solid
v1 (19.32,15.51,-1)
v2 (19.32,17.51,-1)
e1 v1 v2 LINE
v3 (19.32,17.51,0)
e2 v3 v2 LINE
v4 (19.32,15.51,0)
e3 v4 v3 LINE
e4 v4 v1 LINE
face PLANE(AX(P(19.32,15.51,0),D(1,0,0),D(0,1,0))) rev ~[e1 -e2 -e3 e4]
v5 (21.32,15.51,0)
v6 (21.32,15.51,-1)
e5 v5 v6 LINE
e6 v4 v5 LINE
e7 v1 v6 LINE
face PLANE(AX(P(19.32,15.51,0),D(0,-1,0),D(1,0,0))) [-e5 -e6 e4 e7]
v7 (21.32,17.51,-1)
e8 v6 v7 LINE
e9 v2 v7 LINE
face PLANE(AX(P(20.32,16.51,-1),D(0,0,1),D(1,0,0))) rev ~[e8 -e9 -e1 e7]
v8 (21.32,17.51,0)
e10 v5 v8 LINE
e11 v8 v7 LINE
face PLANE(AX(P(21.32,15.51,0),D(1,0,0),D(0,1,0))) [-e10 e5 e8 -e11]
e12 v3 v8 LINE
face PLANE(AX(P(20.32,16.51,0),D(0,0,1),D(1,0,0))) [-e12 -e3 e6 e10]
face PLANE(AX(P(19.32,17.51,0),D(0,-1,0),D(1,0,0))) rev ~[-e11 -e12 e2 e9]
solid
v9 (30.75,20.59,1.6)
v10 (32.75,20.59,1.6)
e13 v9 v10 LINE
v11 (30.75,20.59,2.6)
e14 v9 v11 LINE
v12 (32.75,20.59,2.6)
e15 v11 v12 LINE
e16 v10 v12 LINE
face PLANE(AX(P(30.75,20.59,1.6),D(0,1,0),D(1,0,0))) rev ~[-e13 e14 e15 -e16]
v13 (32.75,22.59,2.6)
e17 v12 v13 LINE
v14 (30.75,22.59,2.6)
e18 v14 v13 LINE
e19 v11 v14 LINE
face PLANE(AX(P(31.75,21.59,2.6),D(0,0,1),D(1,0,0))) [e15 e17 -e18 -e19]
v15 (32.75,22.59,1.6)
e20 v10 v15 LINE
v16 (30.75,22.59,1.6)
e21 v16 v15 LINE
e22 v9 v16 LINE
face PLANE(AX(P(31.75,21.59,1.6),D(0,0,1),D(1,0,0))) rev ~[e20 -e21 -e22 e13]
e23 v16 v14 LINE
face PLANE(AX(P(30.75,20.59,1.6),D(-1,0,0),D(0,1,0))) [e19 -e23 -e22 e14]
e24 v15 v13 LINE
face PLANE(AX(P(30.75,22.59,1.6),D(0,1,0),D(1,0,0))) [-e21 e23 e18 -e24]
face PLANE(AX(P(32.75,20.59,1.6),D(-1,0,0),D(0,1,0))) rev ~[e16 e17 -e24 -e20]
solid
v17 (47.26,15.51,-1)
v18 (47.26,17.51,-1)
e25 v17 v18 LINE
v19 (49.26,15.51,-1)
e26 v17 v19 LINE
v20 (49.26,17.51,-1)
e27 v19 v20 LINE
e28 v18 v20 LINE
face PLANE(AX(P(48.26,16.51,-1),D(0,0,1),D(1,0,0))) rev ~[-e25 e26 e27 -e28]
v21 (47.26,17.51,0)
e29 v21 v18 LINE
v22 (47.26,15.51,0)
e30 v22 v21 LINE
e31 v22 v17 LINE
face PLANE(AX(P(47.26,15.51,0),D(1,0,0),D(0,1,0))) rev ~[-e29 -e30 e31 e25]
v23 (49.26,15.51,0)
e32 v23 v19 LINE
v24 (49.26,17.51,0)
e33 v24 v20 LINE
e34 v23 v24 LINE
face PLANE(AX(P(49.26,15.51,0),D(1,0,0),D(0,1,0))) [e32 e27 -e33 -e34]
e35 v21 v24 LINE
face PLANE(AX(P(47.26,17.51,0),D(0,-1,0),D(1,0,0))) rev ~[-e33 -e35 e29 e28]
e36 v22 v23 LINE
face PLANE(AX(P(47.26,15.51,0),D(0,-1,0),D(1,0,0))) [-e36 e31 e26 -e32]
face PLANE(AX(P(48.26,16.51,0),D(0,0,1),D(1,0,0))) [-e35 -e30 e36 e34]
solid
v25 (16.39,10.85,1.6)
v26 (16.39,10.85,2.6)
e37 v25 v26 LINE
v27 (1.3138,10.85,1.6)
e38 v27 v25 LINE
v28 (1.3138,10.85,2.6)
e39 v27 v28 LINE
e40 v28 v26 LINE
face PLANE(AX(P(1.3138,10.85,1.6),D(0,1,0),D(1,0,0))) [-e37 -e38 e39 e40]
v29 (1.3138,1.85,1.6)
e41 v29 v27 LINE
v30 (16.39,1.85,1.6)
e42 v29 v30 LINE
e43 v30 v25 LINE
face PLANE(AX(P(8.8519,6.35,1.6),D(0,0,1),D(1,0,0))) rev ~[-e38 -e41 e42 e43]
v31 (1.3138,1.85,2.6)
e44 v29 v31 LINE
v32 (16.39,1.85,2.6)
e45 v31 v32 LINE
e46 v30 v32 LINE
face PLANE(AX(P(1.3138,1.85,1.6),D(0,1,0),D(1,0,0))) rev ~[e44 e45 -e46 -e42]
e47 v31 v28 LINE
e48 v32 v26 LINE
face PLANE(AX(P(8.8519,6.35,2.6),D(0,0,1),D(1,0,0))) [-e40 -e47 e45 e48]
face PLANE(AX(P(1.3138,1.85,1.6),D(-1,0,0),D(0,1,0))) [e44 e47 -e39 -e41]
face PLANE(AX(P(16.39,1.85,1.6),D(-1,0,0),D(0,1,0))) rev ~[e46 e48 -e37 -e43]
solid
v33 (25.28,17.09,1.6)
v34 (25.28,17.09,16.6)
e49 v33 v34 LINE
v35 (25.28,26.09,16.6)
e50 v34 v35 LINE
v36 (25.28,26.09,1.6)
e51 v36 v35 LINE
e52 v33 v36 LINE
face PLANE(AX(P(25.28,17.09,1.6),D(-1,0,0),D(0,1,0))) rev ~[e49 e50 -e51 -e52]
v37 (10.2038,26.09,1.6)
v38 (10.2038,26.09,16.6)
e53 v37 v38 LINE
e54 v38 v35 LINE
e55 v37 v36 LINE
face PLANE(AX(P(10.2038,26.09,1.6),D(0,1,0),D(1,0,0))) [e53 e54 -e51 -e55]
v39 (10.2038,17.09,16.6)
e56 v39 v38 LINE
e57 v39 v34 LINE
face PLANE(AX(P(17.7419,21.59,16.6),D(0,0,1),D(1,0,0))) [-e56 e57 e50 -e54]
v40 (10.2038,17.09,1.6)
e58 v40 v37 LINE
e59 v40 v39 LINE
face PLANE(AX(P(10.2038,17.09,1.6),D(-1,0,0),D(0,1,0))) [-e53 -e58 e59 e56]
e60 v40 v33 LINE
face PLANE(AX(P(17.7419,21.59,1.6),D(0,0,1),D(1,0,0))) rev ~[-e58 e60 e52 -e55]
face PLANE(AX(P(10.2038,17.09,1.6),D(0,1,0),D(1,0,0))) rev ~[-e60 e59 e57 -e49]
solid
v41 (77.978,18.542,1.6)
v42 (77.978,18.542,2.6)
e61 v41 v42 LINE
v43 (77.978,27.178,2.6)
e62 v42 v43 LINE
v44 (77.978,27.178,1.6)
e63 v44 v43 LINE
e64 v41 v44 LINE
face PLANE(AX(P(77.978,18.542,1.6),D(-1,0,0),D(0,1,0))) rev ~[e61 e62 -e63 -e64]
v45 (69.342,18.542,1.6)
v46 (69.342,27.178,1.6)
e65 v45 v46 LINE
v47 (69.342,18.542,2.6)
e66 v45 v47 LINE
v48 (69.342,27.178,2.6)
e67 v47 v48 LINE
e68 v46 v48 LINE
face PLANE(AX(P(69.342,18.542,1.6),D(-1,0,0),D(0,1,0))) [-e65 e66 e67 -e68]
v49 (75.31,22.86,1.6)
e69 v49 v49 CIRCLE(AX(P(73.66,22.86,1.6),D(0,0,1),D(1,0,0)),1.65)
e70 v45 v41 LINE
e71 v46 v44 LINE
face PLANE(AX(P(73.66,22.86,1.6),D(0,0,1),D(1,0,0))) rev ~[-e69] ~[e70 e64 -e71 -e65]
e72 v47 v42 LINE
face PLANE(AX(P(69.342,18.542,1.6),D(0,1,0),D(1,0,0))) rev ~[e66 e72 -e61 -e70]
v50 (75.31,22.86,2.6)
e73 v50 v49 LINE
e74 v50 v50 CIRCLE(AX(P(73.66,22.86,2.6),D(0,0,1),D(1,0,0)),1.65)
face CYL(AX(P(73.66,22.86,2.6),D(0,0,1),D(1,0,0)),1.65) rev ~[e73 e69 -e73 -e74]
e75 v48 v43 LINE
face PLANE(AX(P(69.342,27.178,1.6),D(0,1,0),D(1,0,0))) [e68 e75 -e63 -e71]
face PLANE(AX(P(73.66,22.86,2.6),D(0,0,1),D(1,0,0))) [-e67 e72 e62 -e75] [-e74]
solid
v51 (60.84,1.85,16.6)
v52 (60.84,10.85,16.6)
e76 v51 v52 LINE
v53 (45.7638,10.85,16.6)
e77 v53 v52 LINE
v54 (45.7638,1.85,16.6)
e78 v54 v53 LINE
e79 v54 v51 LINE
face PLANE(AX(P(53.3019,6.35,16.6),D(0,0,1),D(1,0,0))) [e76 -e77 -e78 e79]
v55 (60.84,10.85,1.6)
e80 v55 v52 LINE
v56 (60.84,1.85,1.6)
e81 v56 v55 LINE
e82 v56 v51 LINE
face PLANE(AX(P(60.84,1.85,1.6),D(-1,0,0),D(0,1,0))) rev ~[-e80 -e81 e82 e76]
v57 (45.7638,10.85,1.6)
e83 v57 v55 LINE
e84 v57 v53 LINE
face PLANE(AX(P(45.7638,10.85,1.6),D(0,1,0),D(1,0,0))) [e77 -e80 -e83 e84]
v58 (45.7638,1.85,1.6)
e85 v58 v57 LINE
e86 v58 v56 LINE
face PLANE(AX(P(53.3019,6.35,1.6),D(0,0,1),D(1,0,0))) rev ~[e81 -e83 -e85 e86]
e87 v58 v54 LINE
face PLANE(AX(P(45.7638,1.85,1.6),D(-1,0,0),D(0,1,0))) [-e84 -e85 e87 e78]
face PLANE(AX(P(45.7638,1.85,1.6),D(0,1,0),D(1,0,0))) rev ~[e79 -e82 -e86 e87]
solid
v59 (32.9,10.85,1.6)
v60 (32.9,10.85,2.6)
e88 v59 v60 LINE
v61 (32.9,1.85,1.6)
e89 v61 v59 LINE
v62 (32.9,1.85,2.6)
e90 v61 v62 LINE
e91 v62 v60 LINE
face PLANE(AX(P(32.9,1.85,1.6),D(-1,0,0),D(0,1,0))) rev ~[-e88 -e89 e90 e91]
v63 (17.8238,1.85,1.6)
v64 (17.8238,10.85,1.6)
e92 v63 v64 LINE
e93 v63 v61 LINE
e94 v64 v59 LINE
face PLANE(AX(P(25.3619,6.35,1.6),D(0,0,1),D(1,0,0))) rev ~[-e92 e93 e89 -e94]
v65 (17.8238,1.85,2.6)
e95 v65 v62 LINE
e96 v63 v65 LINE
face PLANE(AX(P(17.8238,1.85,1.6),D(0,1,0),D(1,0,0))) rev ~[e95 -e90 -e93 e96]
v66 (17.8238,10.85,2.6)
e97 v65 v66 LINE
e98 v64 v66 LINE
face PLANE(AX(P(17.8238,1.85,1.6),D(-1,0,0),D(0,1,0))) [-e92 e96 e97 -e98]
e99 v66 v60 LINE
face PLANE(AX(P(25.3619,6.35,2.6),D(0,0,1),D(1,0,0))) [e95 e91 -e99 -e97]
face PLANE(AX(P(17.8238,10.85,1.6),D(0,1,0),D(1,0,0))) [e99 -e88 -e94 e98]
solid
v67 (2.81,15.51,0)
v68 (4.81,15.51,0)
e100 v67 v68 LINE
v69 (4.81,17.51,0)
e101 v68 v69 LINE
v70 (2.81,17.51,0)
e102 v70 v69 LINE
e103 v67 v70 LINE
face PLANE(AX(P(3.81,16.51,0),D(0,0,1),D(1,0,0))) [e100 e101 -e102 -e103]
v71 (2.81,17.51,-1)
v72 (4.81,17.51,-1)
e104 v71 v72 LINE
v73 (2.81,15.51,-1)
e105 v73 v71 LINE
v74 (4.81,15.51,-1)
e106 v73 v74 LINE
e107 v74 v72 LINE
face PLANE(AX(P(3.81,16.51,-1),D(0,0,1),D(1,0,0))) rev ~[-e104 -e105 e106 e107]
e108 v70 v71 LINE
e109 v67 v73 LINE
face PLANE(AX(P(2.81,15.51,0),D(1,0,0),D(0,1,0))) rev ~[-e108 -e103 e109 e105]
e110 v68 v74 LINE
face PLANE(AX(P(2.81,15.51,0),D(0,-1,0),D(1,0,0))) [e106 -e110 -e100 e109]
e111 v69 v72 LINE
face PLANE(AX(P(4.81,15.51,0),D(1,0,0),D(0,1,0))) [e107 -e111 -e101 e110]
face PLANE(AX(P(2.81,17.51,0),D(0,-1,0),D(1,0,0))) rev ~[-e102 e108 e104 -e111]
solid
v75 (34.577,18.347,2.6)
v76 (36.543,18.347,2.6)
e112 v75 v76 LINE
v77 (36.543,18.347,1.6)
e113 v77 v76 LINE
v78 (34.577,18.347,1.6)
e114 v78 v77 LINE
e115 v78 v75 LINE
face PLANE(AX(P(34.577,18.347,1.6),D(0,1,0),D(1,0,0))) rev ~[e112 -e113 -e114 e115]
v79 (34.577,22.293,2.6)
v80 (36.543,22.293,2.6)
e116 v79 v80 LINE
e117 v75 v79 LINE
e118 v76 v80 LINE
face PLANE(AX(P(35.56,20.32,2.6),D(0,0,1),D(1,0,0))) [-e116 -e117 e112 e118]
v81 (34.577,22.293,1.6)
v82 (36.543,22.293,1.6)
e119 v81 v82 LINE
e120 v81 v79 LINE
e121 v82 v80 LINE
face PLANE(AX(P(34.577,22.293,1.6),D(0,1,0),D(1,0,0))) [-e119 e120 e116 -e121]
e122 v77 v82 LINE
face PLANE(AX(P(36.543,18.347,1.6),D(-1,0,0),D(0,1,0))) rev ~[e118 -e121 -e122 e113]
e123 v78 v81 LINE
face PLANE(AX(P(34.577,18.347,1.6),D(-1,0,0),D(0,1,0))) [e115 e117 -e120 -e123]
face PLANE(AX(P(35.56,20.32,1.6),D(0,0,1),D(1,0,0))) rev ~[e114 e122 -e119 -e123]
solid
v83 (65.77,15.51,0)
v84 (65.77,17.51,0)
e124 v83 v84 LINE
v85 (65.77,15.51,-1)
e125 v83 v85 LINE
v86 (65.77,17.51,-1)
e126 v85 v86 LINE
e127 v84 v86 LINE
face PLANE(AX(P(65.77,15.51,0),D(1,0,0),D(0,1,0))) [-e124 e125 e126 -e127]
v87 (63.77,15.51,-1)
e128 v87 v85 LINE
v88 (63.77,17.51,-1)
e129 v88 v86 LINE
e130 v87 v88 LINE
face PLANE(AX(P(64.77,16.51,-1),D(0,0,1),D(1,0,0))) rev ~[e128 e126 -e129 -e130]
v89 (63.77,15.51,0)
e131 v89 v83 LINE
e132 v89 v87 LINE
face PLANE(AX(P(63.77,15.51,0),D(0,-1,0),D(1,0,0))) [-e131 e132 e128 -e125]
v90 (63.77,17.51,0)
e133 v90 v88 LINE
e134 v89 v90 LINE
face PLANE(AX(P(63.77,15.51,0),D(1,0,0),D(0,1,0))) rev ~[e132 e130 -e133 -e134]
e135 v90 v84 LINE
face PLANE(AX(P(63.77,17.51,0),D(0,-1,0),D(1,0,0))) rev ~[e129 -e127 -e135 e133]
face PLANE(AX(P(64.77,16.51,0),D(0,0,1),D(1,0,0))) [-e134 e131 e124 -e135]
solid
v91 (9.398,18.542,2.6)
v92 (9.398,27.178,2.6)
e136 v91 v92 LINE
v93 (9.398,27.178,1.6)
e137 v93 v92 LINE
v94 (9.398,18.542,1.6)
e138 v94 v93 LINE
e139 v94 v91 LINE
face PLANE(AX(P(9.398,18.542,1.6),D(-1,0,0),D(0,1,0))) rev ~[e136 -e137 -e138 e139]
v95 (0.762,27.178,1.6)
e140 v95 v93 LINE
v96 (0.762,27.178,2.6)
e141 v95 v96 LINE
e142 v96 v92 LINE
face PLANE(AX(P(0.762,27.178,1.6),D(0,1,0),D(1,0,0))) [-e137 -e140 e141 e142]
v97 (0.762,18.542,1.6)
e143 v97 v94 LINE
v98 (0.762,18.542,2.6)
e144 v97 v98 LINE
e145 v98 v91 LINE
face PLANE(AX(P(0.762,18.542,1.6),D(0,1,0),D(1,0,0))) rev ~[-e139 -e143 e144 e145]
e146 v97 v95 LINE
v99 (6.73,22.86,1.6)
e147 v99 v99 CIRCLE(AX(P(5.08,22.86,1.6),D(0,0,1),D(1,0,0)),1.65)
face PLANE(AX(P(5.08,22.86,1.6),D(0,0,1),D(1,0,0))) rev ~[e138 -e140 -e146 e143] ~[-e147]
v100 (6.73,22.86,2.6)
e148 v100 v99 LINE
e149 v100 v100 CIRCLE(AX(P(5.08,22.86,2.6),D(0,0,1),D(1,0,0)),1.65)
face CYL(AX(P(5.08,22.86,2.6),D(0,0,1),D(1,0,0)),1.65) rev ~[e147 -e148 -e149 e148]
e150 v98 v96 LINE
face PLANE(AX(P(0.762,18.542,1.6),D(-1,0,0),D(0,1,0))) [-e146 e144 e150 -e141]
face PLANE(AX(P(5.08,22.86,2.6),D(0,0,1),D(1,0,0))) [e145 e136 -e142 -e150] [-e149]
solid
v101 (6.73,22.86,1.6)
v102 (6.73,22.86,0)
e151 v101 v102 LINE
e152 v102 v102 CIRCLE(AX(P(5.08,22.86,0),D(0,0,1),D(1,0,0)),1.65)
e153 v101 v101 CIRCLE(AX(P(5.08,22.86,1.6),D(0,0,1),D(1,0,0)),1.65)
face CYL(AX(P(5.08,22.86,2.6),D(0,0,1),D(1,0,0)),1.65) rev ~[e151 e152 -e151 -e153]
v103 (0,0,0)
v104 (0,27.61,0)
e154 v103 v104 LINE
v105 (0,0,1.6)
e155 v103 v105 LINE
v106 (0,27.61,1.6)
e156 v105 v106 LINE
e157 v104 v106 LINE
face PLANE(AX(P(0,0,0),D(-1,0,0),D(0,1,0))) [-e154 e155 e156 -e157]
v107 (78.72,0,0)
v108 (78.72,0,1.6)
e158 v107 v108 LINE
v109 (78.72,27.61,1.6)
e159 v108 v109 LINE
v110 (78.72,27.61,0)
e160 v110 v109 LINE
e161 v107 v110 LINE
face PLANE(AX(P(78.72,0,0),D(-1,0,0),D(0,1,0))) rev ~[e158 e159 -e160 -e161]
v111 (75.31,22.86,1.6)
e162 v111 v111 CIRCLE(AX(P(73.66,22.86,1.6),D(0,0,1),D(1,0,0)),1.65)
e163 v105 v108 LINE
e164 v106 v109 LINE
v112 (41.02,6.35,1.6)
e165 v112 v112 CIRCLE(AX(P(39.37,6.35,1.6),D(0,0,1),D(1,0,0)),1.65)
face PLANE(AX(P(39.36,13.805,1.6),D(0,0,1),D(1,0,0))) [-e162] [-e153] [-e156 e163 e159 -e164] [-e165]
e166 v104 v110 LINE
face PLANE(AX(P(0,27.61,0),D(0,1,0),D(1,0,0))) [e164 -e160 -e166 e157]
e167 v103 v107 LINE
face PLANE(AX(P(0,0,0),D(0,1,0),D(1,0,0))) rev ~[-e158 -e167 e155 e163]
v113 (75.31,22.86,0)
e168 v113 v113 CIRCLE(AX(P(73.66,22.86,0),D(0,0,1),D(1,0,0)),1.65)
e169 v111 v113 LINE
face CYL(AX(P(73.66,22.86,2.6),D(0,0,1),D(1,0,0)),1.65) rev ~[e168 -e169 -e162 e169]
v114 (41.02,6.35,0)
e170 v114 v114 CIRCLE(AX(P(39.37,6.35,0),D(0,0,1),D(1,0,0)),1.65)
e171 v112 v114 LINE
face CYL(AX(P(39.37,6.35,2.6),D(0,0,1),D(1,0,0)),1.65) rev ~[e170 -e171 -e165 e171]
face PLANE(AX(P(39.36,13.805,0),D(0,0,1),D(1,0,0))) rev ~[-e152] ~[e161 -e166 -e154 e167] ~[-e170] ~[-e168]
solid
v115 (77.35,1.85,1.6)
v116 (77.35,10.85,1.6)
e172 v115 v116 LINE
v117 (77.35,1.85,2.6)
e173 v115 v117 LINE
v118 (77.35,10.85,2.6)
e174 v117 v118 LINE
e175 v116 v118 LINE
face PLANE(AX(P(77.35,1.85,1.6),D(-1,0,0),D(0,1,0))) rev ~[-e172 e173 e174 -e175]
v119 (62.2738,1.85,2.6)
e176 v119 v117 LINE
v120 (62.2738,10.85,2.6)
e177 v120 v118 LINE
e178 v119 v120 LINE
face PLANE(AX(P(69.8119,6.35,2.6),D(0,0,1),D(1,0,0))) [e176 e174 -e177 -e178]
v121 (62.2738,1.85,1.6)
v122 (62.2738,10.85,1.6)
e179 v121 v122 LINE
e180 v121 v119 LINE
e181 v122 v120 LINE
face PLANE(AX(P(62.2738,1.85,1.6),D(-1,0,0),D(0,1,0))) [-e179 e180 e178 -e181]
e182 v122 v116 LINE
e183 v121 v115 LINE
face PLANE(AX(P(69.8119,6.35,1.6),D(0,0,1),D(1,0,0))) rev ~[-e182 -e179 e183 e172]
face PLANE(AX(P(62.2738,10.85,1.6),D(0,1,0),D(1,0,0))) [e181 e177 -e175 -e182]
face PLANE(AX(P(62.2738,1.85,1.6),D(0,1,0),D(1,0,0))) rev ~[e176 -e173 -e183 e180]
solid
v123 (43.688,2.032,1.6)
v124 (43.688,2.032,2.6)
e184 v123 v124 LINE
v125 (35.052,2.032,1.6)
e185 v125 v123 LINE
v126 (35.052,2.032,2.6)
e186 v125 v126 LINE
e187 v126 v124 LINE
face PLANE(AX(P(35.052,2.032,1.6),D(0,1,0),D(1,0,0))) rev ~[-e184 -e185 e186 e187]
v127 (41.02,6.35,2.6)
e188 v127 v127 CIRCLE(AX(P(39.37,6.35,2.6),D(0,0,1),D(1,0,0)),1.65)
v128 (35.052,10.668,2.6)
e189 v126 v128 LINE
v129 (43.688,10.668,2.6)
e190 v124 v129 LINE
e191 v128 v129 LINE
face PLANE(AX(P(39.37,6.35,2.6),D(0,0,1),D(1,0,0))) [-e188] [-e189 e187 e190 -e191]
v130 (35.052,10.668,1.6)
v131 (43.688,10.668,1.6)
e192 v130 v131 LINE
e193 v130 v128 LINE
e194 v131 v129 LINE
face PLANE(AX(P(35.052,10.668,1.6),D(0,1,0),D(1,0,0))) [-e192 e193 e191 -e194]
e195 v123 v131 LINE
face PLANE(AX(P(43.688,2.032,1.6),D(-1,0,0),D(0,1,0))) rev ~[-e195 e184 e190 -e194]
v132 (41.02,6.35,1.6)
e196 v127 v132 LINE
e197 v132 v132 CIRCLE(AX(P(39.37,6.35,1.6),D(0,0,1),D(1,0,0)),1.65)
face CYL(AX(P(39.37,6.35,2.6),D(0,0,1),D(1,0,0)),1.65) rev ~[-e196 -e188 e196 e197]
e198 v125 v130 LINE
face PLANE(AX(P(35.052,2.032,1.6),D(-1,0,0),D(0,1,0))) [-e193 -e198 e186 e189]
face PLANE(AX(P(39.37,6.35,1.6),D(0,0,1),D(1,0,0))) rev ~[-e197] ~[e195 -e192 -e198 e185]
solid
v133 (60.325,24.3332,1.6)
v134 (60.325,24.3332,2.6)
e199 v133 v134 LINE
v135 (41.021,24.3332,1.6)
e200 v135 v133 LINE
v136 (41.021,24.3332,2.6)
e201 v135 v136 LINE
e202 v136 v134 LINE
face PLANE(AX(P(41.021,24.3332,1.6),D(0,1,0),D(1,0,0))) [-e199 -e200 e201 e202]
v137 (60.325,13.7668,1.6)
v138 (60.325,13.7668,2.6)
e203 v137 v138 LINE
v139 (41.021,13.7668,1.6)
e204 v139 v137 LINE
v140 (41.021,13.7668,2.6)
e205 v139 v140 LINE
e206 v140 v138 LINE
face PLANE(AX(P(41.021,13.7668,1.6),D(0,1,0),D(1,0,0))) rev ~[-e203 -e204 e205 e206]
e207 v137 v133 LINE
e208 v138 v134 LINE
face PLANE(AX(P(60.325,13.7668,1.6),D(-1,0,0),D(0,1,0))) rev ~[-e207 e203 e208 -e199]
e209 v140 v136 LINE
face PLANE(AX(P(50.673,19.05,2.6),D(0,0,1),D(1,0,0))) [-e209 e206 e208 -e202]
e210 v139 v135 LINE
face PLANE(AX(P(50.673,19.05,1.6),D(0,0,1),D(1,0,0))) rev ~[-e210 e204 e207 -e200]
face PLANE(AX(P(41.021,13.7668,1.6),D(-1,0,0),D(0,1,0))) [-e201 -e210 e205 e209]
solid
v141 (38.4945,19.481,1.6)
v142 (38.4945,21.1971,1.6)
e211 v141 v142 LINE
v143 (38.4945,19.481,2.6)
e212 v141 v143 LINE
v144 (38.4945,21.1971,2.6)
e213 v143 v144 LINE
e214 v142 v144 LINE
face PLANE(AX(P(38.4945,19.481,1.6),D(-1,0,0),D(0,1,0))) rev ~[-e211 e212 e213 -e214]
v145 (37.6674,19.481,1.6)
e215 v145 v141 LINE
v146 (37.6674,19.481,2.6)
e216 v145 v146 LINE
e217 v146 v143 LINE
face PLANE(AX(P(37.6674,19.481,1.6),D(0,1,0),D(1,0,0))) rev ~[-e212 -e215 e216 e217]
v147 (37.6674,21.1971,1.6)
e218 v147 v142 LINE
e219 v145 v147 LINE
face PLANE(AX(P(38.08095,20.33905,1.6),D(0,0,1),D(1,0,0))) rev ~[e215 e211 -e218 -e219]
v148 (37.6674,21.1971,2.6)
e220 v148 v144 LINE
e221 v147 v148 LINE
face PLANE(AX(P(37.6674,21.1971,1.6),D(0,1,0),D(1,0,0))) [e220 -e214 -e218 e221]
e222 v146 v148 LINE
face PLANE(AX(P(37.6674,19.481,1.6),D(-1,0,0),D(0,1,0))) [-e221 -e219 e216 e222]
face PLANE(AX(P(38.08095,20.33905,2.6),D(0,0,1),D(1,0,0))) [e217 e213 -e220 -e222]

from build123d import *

# Parameters (mm, degrees)
SKETCH1_W                           = 78.72
SKETCH1_H                           = 27.61
BOARD_DEPTH                         = 1.6
SKETCH2_W                           = 0.8271
SKETCH2_H                           = 1.7161
EXTRUDE_C0402_1_DEPTH               = 1
SKETCH3_W                           = 8.636
SKETCH3_H                           = 8.636
EXTRUDE_3_3_1_DEPTH                 = 1
SKETCH4_W                           = 8.636
SKETCH4_H                           = 8.636
EXTRUDE_3_3_2_DEPTH                 = 1
SKETCH5_W                           = 8.636
SKETCH5_H                           = 8.636
EXTRUDE_3_3_3_DEPTH                 = 1
SKETCH6_W                           = 19.304
SKETCH6_H                           = 10.5664
TO220H_1_DEPTH                      = 1
SKETCH7_W                           = 1.966
SKETCH7_H                           = 3.946
EXTRUDE_R0805_1_DEPTH               = 1
SKETCH8_W                           = 15.0762
SKETCH8_H                           = 9
EXTRUDE_1935789_1_DEPTH             = 15
SKETCH9_W                           = 15.0762
SKETCH9_H                           = 9
EXTRUDE_1935789_2_DEPTH             = 1
SKETCH10_W                          = 15.0762
SKETCH10_H                          = 9
EXTRUDE_1935789_3_DEPTH             = 15
SKETCH11_W                          = 15.0762
SKETCH11_H                          = 9
EXTRUDE_1935789_4_DEPTH             = 1
SKETCH12_W                          = 2
SKETCH12_H                          = 2
F_2920L400_15MR_1_DEPTH             = 1
SKETCH13_W                          = 2
SKETCH13_H                          = 2
F_2920L400_15MR_2_DEPTH             = 1
SKETCH14_W                          = 2
SKETCH14_H                          = 2
F_2920L400_15MR_3_DEPTH             = 1
SKETCH15_W                          = 2
SKETCH15_H                          = 2
F_2920L400_15MR_4_DEPTH             = 1
SKETCH16_W                          = 15.0762
SKETCH16_H                          = 9
EXTRUDE_1935789_5_DEPTH             = 1
SKETCH17_W                          = 2
SKETCH17_H                          = 2
PDM_2019_REVB_MIC4416YM4_TR_1_DEPTH = 1
SKETCH18_R                          = 1.65
CUT_EXTRUDE1_DEPTH                  = 10.16
SKETCH19_R                          = 1.65
CUT_EXTRUDE2_DEPTH                  = 10.16
SKETCH20_R                          = 1.65
CUT_EXTRUDE3_DEPTH                  = 10.16


with BuildPart() as part:
    # Sketch1 → BOARD (new body)
    with BuildSketch(Plane.XY):
        with Locations((39.36, 13.805)):
            Rectangle(SKETCH1_W, SKETCH1_H)
    extrude(amount=BOARD_DEPTH)


with BuildPart() as body_2:
    # Sketch2 → Extrude C0402-1 (new body)
    with BuildSketch(Plane.XY.offset(1.6)):
        with Locations((38.08095, 20.33905)):
            Rectangle(SKETCH2_W, SKETCH2_H)
    extrude(amount=EXTRUDE_C0402_1_DEPTH)


with BuildPart() as body_3:
    # Sketch3 → Extrude 3_3-1 (new body)
    with BuildSketch(Plane.XY.offset(1.6)):
        with Locations((5.08, 22.86)):
            Rectangle(SKETCH3_W, SKETCH3_H)
    extrude(amount=EXTRUDE_3_3_1_DEPTH)


with BuildPart() as body_4:
    # Sketch4 → Extrude 3_3-2 (new body)
    with BuildSketch(Plane.XY.offset(1.6)):
        with Locations((73.66, 22.86)):
            Rectangle(SKETCH4_W, SKETCH4_H)
    extrude(amount=EXTRUDE_3_3_2_DEPTH)


with BuildPart() as body_5:
    # Sketch5 → Extrude 3_3-3 (new body)
    with BuildSketch(Plane.XY.offset(1.6)):
        with Locations((39.37, 6.35)):
            Rectangle(SKETCH5_W, SKETCH5_H)
    extrude(amount=EXTRUDE_3_3_3_DEPTH)


with BuildPart() as body_6:
    # Sketch6 → TO220H-1 (new body)
    with BuildSketch(Plane.XY.offset(1.6)):
        with Locations((50.673, 19.05)):
            Rectangle(SKETCH6_W, SKETCH6_H)
    extrude(amount=TO220H_1_DEPTH)


with BuildPart() as body_7:
    # Sketch7 → Extrude R0805-1 (new body)
    with BuildSketch(Plane.XY.offset(1.6)):
        with Locations((35.56, 20.32)):
            Rectangle(SKETCH7_W, SKETCH7_H)
    extrude(amount=EXTRUDE_R0805_1_DEPTH)


with BuildPart() as body_8:
    # Sketch8 → Extrude 1935789-1 (new body)
    with BuildSketch(Plane.XY.offset(1.6)):
        with Locations((17.7419, 21.59)):
            Rectangle(SKETCH8_W, SKETCH8_H)
    extrude(amount=EXTRUDE_1935789_1_DEPTH)


with BuildPart() as body_9:
    # Sketch9 → Extrude 1935789-2 (new body)
    with BuildSketch(Plane.XY.offset(1.6)):
        with Locations((25.3619, 6.35)):
            Rectangle(SKETCH9_W, SKETCH9_H)
    extrude(amount=EXTRUDE_1935789_2_DEPTH)


with BuildPart() as body_10:
    # Sketch10 → Extrude 1935789-3 (new body)
    with BuildSketch(Plane.XY.offset(1.6)):
        with Locations((53.3019, 6.35)):
            Rectangle(SKETCH10_W, SKETCH10_H)
    extrude(amount=EXTRUDE_1935789_3_DEPTH)


with BuildPart() as body_11:
    # Sketch11 → Extrude 1935789-4 (new body)
    with BuildSketch(Plane.XY.offset(1.6)):
        with Locations((8.8519, 6.35)):
            Rectangle(SKETCH11_W, SKETCH11_H)
    extrude(amount=EXTRUDE_1935789_4_DEPTH)


with BuildPart() as body_12:
    # Sketch12 → 2920L400_15MR-1 (new body)
    with BuildSketch(Plane.XY):
        with Locations((20.32, 16.51)):
            Rectangle(SKETCH12_W, SKETCH12_H)
    extrude(amount=-F_2920L400_15MR_1_DEPTH)


with BuildPart() as body_13:
    # Sketch13 → 2920L400_15MR-2 (new body)
    with BuildSketch(Plane.XY):
        with Locations((48.26, 16.51)):
            Rectangle(SKETCH13_W, SKETCH13_H)
    extrude(amount=-F_2920L400_15MR_2_DEPTH)


with BuildPart() as body_14:
    # Sketch14 → 2920L400_15MR-3 (new body)
    with BuildSketch(Plane.XY):
        with Locations((3.81, 16.51)):
            Rectangle(SKETCH14_W, SKETCH14_H)
    extrude(amount=-F_2920L400_15MR_3_DEPTH)


with BuildPart() as body_15:
    # Sketch15 → 2920L400_15MR-4 (new body)
    with BuildSketch(Plane.XY):
        with Locations((64.77, 16.51)):
            Rectangle(SKETCH15_W, SKETCH15_H)
    extrude(amount=-F_2920L400_15MR_4_DEPTH)


with BuildPart() as body_16:
    # Sketch16 → Extrude 1935789-5 (new body)
    with BuildSketch(Plane.XY.offset(1.6)):
        with Locations((69.8119, 6.35)):
            Rectangle(SKETCH16_W, SKETCH16_H)
    extrude(amount=EXTRUDE_1935789_5_DEPTH)


with BuildPart() as body_17:
    # Sketch17 → PDM_2019_REVB_MIC4416YM4-TR-1 (new body)
    with BuildSketch(Plane.XY.offset(1.6)):
        with Locations((31.75, 21.59)):
            Rectangle(SKETCH17_W, SKETCH17_H)
    extrude(amount=PDM_2019_REVB_MIC4416YM4_TR_1_DEPTH)


with BuildPart() as cut_extrude1_tool:
    # Sketch18 → Cut-Extrude1 (new body)
    with BuildSketch(Plane.XY.offset(2.6)):
        with Locations((5.08, 22.86)):
            Circle(SKETCH18_R)
    extrude(amount=-CUT_EXTRUDE1_DEPTH)


with BuildPart() as part_1:
    add(part.part)

    # Cut-Extrude1: cut by cut_extrude1_tool
    add(cut_extrude1_tool.part, mode=Mode.SUBTRACT)


with BuildPart() as body_3_1:
    add(body_3.part)

    # Cut-Extrude1: cut by cut_extrude1_tool
    add(cut_extrude1_tool.part, mode=Mode.SUBTRACT)


with BuildPart() as cut_extrude2_tool:
    # Sketch19 → Cut-Extrude2 (new body)
    with BuildSketch(Plane.XY.offset(2.6)):
        with Locations((39.37, 6.35)):
            Circle(SKETCH19_R)
    extrude(amount=-CUT_EXTRUDE2_DEPTH)


with BuildPart() as part_2:
    add(part_1.part)

    # Cut-Extrude2: cut by cut_extrude2_tool
    add(cut_extrude2_tool.part, mode=Mode.SUBTRACT)


with BuildPart() as body_5_1:
    add(body_5.part)

    # Cut-Extrude2: cut by cut_extrude2_tool
    add(cut_extrude2_tool.part, mode=Mode.SUBTRACT)


with BuildPart() as cut_extrude3_tool:
    # Sketch20 → Cut-Extrude3 (new body)
    with BuildSketch(Plane.XY.offset(2.6)):
        with Locations((73.66, 22.86)):
            Circle(SKETCH20_R)
    extrude(amount=-CUT_EXTRUDE3_DEPTH)


with BuildPart() as part_3:
    add(part_2.part)

    # Cut-Extrude3: cut by cut_extrude3_tool
    add(cut_extrude3_tool.part, mode=Mode.SUBTRACT)


with BuildPart() as body_4_1:
    add(body_4.part)

    # Cut-Extrude3: cut by cut_extrude3_tool
    add(cut_extrude3_tool.part, mode=Mode.SUBTRACT)


solid = Compound([body_2.part, body_6.part, body_7.part, body_8.part, body_9.part, body_10.part, body_11.part, body_12.part, body_13.part, body_14.part, body_15.part, body_16.part, body_17.part, body_3_1.part, body_5_1.part, part_3.part, body_4_1.part])
